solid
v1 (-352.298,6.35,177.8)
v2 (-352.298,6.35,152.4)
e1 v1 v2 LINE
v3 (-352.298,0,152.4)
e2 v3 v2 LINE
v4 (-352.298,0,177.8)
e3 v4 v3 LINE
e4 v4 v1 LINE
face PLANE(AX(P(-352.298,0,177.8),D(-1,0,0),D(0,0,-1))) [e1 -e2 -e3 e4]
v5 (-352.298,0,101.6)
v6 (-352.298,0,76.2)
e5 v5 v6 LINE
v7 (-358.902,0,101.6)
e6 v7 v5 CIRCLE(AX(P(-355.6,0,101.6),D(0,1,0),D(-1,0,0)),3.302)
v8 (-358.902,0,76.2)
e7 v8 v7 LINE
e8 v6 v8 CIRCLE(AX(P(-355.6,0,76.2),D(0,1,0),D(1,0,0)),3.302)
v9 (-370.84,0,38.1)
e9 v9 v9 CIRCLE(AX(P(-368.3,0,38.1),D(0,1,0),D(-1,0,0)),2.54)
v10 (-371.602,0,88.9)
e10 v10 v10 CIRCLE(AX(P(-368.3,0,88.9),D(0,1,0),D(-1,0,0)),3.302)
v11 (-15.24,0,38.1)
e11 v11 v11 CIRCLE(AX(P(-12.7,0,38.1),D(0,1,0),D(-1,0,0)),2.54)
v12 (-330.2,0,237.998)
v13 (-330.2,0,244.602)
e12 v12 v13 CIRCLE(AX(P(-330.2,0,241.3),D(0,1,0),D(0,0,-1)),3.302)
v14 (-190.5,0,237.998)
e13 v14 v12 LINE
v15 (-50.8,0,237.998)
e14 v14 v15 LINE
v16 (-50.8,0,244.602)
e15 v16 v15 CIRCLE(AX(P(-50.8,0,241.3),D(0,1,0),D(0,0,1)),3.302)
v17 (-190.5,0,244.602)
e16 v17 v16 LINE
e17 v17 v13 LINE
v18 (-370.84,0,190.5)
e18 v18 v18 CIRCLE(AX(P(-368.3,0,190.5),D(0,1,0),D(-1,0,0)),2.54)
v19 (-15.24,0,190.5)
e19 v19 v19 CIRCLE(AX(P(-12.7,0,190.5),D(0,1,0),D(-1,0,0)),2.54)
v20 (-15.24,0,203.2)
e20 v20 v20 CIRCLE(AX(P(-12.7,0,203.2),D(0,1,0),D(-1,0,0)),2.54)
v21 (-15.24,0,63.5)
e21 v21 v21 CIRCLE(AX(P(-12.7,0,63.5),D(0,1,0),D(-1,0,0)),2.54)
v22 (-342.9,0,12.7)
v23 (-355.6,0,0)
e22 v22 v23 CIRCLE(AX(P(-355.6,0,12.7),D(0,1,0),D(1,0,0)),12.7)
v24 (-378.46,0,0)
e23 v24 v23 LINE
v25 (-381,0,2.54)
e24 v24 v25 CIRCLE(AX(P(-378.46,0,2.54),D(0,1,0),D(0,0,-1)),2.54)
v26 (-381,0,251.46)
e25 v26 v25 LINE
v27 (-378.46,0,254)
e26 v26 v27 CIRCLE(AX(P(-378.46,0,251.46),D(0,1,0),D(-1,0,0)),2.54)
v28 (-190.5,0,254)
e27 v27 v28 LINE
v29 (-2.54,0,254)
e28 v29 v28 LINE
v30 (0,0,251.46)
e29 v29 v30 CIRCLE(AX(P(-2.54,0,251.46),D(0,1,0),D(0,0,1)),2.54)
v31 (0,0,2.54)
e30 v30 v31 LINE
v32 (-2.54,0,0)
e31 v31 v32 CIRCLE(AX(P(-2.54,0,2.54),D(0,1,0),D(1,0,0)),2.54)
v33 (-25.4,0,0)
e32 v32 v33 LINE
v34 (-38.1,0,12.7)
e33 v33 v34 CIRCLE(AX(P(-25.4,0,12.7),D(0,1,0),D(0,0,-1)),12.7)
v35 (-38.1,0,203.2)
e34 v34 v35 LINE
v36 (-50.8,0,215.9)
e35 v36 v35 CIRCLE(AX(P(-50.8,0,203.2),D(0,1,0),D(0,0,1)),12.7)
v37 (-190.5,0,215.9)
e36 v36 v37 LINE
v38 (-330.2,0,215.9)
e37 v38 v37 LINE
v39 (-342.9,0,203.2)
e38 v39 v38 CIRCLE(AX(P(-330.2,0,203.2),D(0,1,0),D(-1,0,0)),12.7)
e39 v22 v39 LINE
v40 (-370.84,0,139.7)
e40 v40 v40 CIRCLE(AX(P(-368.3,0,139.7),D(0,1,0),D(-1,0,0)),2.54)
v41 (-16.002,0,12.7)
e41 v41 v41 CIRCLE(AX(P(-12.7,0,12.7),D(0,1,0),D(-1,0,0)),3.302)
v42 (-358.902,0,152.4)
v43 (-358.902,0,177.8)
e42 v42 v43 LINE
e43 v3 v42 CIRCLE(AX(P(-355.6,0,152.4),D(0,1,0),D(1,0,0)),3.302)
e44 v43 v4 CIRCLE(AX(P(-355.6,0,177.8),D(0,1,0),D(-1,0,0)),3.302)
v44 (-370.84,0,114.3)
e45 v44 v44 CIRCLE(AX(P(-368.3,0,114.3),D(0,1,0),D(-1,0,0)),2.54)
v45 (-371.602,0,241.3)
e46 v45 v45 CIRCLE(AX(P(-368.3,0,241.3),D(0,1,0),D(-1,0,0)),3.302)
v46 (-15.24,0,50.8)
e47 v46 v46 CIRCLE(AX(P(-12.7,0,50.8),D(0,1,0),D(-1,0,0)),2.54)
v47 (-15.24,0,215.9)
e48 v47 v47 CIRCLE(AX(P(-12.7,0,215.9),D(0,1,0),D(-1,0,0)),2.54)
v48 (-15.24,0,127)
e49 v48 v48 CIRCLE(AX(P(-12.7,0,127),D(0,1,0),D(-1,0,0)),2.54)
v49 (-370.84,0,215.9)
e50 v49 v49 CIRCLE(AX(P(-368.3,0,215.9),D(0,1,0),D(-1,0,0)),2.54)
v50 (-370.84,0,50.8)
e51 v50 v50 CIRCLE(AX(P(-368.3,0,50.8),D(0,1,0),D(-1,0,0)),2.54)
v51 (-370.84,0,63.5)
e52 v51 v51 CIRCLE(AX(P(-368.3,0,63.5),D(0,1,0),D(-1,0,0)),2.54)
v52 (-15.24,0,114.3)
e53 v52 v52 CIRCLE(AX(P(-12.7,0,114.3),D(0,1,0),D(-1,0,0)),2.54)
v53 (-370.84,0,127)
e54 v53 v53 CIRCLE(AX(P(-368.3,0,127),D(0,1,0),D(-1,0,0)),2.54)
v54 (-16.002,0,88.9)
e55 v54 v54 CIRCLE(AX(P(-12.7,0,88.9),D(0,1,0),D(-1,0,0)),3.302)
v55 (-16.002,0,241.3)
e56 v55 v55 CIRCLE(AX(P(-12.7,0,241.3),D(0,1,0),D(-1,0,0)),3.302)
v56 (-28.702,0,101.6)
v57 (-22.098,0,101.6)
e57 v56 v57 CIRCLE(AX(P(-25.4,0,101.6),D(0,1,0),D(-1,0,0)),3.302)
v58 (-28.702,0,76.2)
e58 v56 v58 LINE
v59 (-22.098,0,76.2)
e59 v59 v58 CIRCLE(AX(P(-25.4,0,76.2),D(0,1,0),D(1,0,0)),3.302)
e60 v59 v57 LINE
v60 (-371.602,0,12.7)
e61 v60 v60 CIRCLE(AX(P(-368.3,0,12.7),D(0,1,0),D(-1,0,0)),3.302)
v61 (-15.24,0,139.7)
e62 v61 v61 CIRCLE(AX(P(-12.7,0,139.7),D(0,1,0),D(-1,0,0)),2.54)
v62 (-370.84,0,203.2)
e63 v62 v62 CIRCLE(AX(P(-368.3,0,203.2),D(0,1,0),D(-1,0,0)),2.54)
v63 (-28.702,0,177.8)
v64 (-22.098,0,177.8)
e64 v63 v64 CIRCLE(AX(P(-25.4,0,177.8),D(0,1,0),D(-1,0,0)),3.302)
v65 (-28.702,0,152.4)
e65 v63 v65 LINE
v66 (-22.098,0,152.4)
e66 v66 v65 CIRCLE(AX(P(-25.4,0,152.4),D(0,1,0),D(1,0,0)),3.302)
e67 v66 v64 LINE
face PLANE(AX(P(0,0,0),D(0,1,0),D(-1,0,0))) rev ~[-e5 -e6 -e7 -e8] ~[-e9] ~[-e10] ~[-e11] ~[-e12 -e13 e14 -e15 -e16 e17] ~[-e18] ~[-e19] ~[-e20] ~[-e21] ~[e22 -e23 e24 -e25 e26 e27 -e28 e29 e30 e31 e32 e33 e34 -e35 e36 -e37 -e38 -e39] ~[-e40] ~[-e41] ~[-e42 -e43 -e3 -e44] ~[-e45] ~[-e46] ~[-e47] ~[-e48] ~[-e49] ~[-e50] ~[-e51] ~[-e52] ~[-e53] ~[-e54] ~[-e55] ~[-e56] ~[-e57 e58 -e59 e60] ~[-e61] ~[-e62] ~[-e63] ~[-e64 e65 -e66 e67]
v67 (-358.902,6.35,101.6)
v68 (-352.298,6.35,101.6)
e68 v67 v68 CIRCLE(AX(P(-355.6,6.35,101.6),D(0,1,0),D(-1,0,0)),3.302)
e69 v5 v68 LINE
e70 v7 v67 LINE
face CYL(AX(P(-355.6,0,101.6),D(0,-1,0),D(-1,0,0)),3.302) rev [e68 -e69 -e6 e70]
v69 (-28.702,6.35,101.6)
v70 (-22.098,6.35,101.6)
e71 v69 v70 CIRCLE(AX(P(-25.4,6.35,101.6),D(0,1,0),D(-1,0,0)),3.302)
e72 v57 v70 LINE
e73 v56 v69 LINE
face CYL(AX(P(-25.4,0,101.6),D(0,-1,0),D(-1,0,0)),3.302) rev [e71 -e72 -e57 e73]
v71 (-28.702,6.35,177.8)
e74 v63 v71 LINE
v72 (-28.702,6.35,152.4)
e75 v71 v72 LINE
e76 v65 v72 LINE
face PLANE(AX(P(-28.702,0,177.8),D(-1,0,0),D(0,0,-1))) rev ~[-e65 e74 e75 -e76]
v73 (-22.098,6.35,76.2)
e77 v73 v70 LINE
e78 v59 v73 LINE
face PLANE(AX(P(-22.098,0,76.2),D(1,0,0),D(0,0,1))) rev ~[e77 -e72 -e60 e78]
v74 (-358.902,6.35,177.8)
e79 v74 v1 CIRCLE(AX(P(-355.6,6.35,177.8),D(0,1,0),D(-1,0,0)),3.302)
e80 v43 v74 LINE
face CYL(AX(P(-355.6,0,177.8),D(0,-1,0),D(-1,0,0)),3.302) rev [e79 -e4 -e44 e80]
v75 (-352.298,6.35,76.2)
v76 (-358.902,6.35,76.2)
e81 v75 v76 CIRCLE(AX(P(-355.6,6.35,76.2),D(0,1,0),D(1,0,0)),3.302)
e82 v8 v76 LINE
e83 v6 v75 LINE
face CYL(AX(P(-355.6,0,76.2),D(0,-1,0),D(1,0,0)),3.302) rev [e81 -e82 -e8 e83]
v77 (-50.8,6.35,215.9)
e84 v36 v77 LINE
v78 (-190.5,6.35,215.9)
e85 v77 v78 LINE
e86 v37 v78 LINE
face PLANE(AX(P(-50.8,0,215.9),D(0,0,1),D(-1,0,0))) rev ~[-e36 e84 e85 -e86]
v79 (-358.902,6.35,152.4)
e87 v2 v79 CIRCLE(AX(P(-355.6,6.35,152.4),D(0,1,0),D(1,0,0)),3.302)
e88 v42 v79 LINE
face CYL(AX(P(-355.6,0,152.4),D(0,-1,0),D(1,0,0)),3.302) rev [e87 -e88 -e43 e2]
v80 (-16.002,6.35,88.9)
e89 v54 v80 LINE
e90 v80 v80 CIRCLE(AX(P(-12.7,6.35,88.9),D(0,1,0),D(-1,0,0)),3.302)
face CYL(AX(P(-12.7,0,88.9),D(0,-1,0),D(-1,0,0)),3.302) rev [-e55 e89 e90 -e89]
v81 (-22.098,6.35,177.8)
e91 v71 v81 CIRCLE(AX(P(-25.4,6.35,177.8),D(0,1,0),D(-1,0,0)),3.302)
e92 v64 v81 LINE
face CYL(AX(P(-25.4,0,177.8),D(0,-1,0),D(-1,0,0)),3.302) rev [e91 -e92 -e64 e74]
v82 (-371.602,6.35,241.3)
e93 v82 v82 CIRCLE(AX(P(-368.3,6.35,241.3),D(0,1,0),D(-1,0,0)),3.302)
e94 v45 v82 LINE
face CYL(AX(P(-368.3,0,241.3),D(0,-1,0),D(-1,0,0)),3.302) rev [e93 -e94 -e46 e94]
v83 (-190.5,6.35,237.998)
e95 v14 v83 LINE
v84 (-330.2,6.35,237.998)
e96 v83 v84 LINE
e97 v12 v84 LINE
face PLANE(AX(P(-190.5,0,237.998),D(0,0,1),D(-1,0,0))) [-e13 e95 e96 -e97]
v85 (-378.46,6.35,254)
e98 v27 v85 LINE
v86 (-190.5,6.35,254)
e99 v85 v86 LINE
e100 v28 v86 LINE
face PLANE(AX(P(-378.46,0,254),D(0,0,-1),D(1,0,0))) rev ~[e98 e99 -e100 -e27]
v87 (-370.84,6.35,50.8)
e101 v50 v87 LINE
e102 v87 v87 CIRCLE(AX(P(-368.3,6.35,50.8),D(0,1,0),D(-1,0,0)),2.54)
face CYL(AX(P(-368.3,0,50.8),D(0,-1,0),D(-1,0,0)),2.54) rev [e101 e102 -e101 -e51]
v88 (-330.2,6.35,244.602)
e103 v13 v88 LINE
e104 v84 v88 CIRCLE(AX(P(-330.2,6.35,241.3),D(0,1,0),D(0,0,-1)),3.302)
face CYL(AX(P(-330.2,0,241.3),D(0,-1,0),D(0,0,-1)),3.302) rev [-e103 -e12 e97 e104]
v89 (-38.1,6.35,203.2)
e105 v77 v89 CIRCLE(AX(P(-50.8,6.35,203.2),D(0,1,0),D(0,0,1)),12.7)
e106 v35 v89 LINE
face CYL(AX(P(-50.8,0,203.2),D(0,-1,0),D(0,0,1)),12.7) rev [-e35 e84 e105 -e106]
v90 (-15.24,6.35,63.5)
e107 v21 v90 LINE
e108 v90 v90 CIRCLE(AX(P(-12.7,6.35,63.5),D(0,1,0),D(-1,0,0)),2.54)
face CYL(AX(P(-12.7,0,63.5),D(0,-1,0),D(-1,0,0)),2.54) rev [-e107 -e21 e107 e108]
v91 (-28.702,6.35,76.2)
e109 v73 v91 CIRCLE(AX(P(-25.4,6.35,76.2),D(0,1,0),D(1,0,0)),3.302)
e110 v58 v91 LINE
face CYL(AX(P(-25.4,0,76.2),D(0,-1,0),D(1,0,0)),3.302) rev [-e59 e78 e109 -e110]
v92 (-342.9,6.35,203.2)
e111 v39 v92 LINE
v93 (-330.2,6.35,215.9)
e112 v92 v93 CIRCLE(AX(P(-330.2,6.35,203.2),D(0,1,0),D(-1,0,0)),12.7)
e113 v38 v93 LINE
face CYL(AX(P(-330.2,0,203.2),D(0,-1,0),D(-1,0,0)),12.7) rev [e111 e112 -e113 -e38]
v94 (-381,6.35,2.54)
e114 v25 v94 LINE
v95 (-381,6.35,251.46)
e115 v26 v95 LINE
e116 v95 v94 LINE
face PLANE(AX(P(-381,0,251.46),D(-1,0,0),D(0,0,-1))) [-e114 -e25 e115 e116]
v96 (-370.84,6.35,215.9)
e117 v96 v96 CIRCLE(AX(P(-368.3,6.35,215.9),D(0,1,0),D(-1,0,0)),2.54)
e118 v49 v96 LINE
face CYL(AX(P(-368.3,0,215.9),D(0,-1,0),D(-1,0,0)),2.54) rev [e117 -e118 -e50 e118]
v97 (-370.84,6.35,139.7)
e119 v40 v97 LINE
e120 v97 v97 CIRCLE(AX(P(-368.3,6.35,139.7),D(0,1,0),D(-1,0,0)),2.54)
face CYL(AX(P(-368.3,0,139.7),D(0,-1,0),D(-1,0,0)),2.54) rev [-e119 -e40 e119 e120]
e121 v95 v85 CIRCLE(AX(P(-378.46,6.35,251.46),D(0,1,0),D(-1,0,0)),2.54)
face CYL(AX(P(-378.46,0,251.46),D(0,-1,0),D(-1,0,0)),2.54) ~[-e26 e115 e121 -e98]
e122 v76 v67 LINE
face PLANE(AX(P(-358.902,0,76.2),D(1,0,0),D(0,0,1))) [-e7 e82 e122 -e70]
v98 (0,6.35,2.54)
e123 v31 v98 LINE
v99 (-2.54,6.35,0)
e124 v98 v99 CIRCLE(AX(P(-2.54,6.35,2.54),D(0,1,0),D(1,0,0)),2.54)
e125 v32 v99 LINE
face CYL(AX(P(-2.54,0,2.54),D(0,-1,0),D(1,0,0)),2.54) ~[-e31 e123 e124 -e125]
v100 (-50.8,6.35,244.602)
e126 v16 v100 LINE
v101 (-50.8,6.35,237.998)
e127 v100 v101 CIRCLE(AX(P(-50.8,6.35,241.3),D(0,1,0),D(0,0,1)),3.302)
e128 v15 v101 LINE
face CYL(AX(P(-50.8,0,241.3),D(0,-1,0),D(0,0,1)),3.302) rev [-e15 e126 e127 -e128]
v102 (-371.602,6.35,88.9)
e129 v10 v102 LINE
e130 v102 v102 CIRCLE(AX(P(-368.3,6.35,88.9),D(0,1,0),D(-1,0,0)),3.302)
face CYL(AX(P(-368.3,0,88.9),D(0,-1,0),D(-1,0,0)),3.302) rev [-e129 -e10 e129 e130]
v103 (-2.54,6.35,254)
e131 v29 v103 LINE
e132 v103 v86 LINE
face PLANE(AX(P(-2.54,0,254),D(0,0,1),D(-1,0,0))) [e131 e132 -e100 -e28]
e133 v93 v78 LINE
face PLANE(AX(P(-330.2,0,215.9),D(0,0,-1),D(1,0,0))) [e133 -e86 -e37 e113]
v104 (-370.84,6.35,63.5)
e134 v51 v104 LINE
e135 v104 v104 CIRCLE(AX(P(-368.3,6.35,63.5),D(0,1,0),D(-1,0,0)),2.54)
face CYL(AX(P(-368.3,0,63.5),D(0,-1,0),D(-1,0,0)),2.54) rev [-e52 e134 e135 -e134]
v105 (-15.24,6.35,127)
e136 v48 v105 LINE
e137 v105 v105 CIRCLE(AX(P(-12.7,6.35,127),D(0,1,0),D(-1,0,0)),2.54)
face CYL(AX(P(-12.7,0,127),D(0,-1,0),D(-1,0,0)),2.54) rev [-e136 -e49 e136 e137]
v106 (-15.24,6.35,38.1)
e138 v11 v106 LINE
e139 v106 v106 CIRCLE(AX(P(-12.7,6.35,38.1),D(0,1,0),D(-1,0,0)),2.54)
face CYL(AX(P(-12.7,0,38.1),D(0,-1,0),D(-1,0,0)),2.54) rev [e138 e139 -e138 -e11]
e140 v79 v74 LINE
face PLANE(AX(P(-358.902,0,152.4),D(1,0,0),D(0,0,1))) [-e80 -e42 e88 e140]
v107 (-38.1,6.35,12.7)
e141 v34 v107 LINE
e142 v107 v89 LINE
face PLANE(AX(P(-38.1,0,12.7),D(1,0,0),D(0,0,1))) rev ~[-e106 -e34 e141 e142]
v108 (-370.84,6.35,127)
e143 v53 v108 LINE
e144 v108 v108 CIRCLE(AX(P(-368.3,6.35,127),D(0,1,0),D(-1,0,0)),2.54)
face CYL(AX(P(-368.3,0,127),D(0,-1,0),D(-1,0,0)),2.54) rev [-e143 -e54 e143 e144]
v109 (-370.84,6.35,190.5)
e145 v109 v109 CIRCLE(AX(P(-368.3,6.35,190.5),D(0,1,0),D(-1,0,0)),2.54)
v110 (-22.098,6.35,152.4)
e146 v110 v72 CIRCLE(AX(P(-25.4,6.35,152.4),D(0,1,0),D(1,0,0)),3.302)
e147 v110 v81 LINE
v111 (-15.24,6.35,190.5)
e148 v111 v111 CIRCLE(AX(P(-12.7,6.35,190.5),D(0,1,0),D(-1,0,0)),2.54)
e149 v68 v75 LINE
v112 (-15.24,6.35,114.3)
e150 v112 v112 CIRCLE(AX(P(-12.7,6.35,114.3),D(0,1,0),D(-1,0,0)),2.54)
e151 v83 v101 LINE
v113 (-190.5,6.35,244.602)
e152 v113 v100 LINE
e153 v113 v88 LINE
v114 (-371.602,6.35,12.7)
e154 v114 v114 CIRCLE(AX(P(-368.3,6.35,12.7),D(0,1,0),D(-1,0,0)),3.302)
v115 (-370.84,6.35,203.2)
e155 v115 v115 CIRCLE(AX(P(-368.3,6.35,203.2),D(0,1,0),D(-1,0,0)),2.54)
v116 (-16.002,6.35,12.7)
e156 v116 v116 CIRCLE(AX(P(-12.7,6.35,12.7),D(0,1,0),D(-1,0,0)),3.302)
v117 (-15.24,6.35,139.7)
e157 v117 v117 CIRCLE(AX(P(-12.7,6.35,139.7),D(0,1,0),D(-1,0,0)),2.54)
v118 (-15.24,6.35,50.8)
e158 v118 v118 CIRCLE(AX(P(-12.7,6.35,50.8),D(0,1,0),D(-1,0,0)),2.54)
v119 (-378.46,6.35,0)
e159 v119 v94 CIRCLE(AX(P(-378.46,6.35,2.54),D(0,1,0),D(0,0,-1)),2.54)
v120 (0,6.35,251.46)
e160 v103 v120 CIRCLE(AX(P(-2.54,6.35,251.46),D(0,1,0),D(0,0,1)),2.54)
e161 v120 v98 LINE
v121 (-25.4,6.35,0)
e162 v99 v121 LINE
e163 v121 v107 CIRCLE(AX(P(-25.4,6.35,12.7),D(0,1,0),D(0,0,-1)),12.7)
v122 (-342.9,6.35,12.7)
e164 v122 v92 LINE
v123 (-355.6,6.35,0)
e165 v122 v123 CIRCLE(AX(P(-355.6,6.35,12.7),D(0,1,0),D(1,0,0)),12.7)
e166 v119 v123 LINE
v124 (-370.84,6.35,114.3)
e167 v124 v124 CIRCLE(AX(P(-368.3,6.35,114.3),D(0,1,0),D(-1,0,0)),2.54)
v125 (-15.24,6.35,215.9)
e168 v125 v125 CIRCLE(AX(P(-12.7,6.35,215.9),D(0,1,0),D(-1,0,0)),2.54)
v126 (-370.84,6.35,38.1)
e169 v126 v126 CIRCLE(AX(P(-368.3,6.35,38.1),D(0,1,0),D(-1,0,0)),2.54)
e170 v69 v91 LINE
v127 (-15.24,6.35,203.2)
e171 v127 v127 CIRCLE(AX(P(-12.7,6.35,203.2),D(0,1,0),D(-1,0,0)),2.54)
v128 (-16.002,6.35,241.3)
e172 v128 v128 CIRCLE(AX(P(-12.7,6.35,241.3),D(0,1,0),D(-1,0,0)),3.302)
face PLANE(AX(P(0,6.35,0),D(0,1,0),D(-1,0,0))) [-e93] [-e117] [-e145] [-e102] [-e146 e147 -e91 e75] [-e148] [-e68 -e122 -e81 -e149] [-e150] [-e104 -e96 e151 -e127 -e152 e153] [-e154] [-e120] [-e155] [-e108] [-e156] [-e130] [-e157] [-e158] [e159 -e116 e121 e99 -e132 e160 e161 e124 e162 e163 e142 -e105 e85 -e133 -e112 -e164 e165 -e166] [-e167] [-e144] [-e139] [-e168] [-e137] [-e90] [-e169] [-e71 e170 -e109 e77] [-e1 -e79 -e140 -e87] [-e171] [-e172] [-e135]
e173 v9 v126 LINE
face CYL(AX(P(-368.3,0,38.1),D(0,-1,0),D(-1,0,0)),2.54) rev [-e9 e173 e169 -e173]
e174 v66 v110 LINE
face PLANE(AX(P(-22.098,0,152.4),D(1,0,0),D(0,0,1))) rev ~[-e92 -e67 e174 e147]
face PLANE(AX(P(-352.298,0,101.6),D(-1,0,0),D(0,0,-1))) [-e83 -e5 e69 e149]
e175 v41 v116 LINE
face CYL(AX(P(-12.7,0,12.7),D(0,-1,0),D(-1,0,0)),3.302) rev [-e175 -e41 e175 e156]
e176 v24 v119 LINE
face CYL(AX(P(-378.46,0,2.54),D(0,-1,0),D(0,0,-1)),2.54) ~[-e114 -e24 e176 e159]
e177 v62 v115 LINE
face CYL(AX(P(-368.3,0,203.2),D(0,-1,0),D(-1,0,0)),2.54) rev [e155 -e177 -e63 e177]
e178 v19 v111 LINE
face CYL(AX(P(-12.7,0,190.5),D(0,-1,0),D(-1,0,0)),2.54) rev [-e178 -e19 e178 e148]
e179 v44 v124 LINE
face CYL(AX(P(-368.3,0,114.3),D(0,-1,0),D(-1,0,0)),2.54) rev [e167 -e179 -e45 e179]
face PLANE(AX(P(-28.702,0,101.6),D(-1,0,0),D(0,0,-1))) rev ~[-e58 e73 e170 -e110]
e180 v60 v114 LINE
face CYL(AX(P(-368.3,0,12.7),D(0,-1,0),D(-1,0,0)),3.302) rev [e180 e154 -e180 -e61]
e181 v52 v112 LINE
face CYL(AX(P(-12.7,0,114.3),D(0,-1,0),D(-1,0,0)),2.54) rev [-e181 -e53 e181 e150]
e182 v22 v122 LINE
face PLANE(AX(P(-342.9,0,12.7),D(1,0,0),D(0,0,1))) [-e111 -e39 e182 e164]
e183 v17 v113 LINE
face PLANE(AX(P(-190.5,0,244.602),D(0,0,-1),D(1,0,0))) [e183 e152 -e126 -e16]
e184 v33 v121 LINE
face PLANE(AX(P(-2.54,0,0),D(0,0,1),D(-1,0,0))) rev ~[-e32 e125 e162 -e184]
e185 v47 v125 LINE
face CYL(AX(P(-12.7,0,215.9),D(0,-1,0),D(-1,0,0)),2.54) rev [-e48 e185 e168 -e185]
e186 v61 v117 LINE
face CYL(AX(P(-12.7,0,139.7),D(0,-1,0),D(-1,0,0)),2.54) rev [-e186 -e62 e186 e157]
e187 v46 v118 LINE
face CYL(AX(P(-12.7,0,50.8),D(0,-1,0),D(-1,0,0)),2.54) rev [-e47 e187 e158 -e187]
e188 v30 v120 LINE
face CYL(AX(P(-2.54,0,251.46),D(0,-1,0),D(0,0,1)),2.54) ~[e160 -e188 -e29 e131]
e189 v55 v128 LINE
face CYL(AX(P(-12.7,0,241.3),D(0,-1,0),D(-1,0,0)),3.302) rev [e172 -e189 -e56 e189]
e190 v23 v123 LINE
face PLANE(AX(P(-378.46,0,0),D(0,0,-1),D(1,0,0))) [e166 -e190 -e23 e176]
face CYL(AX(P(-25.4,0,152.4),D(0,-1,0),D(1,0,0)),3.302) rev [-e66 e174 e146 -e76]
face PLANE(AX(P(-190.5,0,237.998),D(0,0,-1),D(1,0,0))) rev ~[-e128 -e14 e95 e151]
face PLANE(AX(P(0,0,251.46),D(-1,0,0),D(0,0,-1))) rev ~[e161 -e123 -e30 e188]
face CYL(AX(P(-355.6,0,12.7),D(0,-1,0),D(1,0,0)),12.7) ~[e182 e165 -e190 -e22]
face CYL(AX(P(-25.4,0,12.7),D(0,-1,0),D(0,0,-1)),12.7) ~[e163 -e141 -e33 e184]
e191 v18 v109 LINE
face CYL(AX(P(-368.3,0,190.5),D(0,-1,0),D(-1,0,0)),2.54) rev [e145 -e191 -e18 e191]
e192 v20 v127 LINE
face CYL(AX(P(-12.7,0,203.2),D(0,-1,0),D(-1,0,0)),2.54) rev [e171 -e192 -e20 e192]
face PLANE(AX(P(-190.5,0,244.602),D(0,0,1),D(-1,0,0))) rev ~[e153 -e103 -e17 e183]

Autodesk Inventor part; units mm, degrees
ref_plane "YZ Plane" through (0, 0, 0) normal (1, 0, 0) x (0, 1, 0)
ref_plane "XZ Plane" through (0, 0, 0) normal (0, 1, 0) x (-1, 0, 0)
ref_plane "XY Plane" through (0, 0, 0) normal (0, 0, 1) x (1, 0, 0)
sketch "Sketch1" plane through (0, 0, 0) normal (0, 1, 0) x (-1, 0, 0)
  circle A0 centre (368.3, 203.2) radius 2.54
  circle A1 centre (368.3, 241.3) radius 3.302
  circle A2 centre (368.3, 127) radius 2.54
  circle A3 centre (368.3, 88.9) radius 3.302
  circle A4 centre (368.3, 50.8) radius 2.54
  circle A5 centre (368.3, 12.7) radius 3.302
  line L0 (190.5, 244.602) -> (330.2, 244.602)
  line L1 (330.2, 244.602) -> (190.5, 244.602)
  arc A6 (330.2, 237.998) -> (330.2, 244.602) centre (330.2, 241.3) ccw
  line L2 (190.5, 237.998) -> (330.2, 237.998)
  line L3 (381, 251.46) -> (381, 2.54)
  line L4 (378.46, 0) -> (355.6, 0)
  line L5 (355.6, 0) -> (355.6, 0)
  circle A7 centre (368.3, 38.1) radius 2.54
  circle A8 centre (368.3, 63.5) radius 2.54
  circle A9 centre (368.3, 127) radius 2.54
  circle A10 centre (368.3, 114.3) radius 2.54
  circle A11 centre (368.3, 139.7) radius 2.54
  circle A12 centre (368.3, 203.2) radius 2.54
  circle A13 centre (368.3, 190.5) radius 2.54
  circle A14 centre (368.3, 215.9) radius 2.54
  line L6 (355.6, 0) -> (355.6, 25.4) construction
  line L7 (355.6, 25.4) -> (381, 25.4) construction
  line L8 (368.3, 88.9) -> (355.6, 88.9) construction
  arc A15 (352.298, 76.2) -> (358.902, 76.2) centre (355.6, 76.2) ccw
  arc A16 (358.902, 101.6) -> (352.298, 101.6) centre (355.6, 101.6) ccw
  line L9 (358.902, 76.2) -> (358.902, 101.6)
  line L10 (352.298, 101.6) -> (352.298, 76.2)
  line L11 (368.3, 139.7) -> (368.3, 165.1) construction
  line L12 (368.3, 165.1) -> (355.6, 165.1) construction
  arc A17 (352.298, 152.4) -> (358.902, 152.4) centre (355.6, 152.4) ccw
  arc A18 (358.902, 177.8) -> (352.298, 177.8) centre (355.6, 177.8) ccw
  line L13 (358.902, 152.4) -> (358.902, 177.8)
  line L14 (352.298, 177.8) -> (352.298, 152.4)
  arc A19 (342.9, 12.7) -> (355.6, 0) centre (355.6, 12.7) ccw
  line L15 (378.46, 254) -> (190.5, 254)
  arc A20 (378.46, 0) -> (381, 2.54) centre (378.46, 2.54) ccw
  arc A21 (381, 251.46) -> (378.46, 254) centre (378.46, 251.46) ccw
  line L16 (190.5, 228.6) -> (190.5, 159.7209) construction
  line L17 (330.2, 215.9) -> (190.5, 215.9)
  line L18 (342.9, 12.7) -> (342.9, 203.2)
  arc A22 (342.9, 203.2) -> (330.2, 215.9) centre (330.2, 203.2) ccw
  circle A23 centre (12.7, 203.2) radius 2.54
  circle A24 centre (12.7, 241.3) radius 3.302
  circle A25 centre (12.7, 127) radius 2.54
  circle A26 centre (12.7, 88.9) radius 3.302
  circle A27 centre (12.7, 50.8) radius 2.54
  circle A28 centre (12.7, 12.7) radius 3.302
  line L19 (190.5, 244.602) -> (50.8, 244.602)
  line L20 (50.8, 244.602) -> (190.5, 244.602)
  arc A29 (50.8, 244.602) -> (50.8, 237.998) centre (50.8, 241.3) ccw
  line L21 (190.5, 237.998) -> (50.8, 237.998)
  line L22 (0, 251.46) -> (0, 2.54)
  line L23 (2.54, 0) -> (25.4, 0)
  line L24 (25.4, 0) -> (25.4, 0)
  circle A30 centre (12.7, 38.1) radius 2.54
  circle A31 centre (12.7, 63.5) radius 2.54
  circle A32 centre (12.7, 139.7) radius 2.54
  circle A33 centre (12.7, 127) radius 2.54
  circle A34 centre (12.7, 114.3) radius 2.54
  circle A35 centre (12.7, 215.9) radius 2.54
  circle A36 centre (12.7, 203.2) radius 2.54
  circle A37 centre (12.7, 190.5) radius 2.54
  line L25 (25.4, 0) -> (25.4, 25.4) construction
  line L26 (25.4, 25.4) -> (0, 25.4) construction
  line L27 (12.7, 88.9) -> (25.4, 88.9) construction
  arc A38 (22.098, 76.2) -> (28.702, 76.2) centre (25.4, 76.2) ccw
  arc A39 (28.702, 101.6) -> (22.098, 101.6) centre (25.4, 101.6) ccw
  line L28 (22.098, 76.2) -> (22.098, 101.6)
  line L29 (28.702, 101.6) -> (28.702, 76.2)
  line L30 (12.7, 139.7) -> (12.7, 165.1) construction
  line L31 (12.7, 165.1) -> (25.4, 165.1) construction
  line L32 (22.098, 152.4) -> (22.098, 177.8)
  arc A40 (22.098, 152.4) -> (28.702, 152.4) centre (25.4, 152.4) ccw
  line L33 (28.702, 177.8) -> (28.702, 152.4)
  arc A41 (28.702, 177.8) -> (22.098, 177.8) centre (25.4, 177.8) ccw
  arc A42 (25.4, 0) -> (38.1, 12.7) centre (25.4, 12.7) ccw
  line L34 (2.54, 254) -> (190.5, 254)
  arc A43 (0, 2.54) -> (2.54, 0) centre (2.54, 2.54) ccw
  arc A44 (2.54, 254) -> (0, 251.46) centre (2.54, 251.46) ccw
  line L35 (50.8, 215.9) -> (190.5, 215.9)
  line L36 (38.1, 12.7) -> (38.1, 203.2)
  arc A45 (50.8, 215.9) -> (38.1, 203.2) centre (50.8, 203.2) ccw
  point P0 (381, 254)
  point P1 (381, 0)
  point P2 (342.9, 0)
  point P3 (342.9, 228.6)
  point P4 (0, 254)
  point P5 (0, 0)
  point P6 (38.1, 0)
  point P7 (38.1, 228.6)
  dimension "d2" = 12.7
  dimension "d3" = 228.6
  dimension "d6" = 25.4
  dimension "d7" = 25.4
  dimension "d8" = 12.7
  dimension "d10" = 25.4
  dimension "d12" = 12.7
  dimension "d17" = 12.7
extrude "Extrusion3" add sketch "Sketch1" along normal blind 6.35
properties part number "vrRig_v08p1_base"
